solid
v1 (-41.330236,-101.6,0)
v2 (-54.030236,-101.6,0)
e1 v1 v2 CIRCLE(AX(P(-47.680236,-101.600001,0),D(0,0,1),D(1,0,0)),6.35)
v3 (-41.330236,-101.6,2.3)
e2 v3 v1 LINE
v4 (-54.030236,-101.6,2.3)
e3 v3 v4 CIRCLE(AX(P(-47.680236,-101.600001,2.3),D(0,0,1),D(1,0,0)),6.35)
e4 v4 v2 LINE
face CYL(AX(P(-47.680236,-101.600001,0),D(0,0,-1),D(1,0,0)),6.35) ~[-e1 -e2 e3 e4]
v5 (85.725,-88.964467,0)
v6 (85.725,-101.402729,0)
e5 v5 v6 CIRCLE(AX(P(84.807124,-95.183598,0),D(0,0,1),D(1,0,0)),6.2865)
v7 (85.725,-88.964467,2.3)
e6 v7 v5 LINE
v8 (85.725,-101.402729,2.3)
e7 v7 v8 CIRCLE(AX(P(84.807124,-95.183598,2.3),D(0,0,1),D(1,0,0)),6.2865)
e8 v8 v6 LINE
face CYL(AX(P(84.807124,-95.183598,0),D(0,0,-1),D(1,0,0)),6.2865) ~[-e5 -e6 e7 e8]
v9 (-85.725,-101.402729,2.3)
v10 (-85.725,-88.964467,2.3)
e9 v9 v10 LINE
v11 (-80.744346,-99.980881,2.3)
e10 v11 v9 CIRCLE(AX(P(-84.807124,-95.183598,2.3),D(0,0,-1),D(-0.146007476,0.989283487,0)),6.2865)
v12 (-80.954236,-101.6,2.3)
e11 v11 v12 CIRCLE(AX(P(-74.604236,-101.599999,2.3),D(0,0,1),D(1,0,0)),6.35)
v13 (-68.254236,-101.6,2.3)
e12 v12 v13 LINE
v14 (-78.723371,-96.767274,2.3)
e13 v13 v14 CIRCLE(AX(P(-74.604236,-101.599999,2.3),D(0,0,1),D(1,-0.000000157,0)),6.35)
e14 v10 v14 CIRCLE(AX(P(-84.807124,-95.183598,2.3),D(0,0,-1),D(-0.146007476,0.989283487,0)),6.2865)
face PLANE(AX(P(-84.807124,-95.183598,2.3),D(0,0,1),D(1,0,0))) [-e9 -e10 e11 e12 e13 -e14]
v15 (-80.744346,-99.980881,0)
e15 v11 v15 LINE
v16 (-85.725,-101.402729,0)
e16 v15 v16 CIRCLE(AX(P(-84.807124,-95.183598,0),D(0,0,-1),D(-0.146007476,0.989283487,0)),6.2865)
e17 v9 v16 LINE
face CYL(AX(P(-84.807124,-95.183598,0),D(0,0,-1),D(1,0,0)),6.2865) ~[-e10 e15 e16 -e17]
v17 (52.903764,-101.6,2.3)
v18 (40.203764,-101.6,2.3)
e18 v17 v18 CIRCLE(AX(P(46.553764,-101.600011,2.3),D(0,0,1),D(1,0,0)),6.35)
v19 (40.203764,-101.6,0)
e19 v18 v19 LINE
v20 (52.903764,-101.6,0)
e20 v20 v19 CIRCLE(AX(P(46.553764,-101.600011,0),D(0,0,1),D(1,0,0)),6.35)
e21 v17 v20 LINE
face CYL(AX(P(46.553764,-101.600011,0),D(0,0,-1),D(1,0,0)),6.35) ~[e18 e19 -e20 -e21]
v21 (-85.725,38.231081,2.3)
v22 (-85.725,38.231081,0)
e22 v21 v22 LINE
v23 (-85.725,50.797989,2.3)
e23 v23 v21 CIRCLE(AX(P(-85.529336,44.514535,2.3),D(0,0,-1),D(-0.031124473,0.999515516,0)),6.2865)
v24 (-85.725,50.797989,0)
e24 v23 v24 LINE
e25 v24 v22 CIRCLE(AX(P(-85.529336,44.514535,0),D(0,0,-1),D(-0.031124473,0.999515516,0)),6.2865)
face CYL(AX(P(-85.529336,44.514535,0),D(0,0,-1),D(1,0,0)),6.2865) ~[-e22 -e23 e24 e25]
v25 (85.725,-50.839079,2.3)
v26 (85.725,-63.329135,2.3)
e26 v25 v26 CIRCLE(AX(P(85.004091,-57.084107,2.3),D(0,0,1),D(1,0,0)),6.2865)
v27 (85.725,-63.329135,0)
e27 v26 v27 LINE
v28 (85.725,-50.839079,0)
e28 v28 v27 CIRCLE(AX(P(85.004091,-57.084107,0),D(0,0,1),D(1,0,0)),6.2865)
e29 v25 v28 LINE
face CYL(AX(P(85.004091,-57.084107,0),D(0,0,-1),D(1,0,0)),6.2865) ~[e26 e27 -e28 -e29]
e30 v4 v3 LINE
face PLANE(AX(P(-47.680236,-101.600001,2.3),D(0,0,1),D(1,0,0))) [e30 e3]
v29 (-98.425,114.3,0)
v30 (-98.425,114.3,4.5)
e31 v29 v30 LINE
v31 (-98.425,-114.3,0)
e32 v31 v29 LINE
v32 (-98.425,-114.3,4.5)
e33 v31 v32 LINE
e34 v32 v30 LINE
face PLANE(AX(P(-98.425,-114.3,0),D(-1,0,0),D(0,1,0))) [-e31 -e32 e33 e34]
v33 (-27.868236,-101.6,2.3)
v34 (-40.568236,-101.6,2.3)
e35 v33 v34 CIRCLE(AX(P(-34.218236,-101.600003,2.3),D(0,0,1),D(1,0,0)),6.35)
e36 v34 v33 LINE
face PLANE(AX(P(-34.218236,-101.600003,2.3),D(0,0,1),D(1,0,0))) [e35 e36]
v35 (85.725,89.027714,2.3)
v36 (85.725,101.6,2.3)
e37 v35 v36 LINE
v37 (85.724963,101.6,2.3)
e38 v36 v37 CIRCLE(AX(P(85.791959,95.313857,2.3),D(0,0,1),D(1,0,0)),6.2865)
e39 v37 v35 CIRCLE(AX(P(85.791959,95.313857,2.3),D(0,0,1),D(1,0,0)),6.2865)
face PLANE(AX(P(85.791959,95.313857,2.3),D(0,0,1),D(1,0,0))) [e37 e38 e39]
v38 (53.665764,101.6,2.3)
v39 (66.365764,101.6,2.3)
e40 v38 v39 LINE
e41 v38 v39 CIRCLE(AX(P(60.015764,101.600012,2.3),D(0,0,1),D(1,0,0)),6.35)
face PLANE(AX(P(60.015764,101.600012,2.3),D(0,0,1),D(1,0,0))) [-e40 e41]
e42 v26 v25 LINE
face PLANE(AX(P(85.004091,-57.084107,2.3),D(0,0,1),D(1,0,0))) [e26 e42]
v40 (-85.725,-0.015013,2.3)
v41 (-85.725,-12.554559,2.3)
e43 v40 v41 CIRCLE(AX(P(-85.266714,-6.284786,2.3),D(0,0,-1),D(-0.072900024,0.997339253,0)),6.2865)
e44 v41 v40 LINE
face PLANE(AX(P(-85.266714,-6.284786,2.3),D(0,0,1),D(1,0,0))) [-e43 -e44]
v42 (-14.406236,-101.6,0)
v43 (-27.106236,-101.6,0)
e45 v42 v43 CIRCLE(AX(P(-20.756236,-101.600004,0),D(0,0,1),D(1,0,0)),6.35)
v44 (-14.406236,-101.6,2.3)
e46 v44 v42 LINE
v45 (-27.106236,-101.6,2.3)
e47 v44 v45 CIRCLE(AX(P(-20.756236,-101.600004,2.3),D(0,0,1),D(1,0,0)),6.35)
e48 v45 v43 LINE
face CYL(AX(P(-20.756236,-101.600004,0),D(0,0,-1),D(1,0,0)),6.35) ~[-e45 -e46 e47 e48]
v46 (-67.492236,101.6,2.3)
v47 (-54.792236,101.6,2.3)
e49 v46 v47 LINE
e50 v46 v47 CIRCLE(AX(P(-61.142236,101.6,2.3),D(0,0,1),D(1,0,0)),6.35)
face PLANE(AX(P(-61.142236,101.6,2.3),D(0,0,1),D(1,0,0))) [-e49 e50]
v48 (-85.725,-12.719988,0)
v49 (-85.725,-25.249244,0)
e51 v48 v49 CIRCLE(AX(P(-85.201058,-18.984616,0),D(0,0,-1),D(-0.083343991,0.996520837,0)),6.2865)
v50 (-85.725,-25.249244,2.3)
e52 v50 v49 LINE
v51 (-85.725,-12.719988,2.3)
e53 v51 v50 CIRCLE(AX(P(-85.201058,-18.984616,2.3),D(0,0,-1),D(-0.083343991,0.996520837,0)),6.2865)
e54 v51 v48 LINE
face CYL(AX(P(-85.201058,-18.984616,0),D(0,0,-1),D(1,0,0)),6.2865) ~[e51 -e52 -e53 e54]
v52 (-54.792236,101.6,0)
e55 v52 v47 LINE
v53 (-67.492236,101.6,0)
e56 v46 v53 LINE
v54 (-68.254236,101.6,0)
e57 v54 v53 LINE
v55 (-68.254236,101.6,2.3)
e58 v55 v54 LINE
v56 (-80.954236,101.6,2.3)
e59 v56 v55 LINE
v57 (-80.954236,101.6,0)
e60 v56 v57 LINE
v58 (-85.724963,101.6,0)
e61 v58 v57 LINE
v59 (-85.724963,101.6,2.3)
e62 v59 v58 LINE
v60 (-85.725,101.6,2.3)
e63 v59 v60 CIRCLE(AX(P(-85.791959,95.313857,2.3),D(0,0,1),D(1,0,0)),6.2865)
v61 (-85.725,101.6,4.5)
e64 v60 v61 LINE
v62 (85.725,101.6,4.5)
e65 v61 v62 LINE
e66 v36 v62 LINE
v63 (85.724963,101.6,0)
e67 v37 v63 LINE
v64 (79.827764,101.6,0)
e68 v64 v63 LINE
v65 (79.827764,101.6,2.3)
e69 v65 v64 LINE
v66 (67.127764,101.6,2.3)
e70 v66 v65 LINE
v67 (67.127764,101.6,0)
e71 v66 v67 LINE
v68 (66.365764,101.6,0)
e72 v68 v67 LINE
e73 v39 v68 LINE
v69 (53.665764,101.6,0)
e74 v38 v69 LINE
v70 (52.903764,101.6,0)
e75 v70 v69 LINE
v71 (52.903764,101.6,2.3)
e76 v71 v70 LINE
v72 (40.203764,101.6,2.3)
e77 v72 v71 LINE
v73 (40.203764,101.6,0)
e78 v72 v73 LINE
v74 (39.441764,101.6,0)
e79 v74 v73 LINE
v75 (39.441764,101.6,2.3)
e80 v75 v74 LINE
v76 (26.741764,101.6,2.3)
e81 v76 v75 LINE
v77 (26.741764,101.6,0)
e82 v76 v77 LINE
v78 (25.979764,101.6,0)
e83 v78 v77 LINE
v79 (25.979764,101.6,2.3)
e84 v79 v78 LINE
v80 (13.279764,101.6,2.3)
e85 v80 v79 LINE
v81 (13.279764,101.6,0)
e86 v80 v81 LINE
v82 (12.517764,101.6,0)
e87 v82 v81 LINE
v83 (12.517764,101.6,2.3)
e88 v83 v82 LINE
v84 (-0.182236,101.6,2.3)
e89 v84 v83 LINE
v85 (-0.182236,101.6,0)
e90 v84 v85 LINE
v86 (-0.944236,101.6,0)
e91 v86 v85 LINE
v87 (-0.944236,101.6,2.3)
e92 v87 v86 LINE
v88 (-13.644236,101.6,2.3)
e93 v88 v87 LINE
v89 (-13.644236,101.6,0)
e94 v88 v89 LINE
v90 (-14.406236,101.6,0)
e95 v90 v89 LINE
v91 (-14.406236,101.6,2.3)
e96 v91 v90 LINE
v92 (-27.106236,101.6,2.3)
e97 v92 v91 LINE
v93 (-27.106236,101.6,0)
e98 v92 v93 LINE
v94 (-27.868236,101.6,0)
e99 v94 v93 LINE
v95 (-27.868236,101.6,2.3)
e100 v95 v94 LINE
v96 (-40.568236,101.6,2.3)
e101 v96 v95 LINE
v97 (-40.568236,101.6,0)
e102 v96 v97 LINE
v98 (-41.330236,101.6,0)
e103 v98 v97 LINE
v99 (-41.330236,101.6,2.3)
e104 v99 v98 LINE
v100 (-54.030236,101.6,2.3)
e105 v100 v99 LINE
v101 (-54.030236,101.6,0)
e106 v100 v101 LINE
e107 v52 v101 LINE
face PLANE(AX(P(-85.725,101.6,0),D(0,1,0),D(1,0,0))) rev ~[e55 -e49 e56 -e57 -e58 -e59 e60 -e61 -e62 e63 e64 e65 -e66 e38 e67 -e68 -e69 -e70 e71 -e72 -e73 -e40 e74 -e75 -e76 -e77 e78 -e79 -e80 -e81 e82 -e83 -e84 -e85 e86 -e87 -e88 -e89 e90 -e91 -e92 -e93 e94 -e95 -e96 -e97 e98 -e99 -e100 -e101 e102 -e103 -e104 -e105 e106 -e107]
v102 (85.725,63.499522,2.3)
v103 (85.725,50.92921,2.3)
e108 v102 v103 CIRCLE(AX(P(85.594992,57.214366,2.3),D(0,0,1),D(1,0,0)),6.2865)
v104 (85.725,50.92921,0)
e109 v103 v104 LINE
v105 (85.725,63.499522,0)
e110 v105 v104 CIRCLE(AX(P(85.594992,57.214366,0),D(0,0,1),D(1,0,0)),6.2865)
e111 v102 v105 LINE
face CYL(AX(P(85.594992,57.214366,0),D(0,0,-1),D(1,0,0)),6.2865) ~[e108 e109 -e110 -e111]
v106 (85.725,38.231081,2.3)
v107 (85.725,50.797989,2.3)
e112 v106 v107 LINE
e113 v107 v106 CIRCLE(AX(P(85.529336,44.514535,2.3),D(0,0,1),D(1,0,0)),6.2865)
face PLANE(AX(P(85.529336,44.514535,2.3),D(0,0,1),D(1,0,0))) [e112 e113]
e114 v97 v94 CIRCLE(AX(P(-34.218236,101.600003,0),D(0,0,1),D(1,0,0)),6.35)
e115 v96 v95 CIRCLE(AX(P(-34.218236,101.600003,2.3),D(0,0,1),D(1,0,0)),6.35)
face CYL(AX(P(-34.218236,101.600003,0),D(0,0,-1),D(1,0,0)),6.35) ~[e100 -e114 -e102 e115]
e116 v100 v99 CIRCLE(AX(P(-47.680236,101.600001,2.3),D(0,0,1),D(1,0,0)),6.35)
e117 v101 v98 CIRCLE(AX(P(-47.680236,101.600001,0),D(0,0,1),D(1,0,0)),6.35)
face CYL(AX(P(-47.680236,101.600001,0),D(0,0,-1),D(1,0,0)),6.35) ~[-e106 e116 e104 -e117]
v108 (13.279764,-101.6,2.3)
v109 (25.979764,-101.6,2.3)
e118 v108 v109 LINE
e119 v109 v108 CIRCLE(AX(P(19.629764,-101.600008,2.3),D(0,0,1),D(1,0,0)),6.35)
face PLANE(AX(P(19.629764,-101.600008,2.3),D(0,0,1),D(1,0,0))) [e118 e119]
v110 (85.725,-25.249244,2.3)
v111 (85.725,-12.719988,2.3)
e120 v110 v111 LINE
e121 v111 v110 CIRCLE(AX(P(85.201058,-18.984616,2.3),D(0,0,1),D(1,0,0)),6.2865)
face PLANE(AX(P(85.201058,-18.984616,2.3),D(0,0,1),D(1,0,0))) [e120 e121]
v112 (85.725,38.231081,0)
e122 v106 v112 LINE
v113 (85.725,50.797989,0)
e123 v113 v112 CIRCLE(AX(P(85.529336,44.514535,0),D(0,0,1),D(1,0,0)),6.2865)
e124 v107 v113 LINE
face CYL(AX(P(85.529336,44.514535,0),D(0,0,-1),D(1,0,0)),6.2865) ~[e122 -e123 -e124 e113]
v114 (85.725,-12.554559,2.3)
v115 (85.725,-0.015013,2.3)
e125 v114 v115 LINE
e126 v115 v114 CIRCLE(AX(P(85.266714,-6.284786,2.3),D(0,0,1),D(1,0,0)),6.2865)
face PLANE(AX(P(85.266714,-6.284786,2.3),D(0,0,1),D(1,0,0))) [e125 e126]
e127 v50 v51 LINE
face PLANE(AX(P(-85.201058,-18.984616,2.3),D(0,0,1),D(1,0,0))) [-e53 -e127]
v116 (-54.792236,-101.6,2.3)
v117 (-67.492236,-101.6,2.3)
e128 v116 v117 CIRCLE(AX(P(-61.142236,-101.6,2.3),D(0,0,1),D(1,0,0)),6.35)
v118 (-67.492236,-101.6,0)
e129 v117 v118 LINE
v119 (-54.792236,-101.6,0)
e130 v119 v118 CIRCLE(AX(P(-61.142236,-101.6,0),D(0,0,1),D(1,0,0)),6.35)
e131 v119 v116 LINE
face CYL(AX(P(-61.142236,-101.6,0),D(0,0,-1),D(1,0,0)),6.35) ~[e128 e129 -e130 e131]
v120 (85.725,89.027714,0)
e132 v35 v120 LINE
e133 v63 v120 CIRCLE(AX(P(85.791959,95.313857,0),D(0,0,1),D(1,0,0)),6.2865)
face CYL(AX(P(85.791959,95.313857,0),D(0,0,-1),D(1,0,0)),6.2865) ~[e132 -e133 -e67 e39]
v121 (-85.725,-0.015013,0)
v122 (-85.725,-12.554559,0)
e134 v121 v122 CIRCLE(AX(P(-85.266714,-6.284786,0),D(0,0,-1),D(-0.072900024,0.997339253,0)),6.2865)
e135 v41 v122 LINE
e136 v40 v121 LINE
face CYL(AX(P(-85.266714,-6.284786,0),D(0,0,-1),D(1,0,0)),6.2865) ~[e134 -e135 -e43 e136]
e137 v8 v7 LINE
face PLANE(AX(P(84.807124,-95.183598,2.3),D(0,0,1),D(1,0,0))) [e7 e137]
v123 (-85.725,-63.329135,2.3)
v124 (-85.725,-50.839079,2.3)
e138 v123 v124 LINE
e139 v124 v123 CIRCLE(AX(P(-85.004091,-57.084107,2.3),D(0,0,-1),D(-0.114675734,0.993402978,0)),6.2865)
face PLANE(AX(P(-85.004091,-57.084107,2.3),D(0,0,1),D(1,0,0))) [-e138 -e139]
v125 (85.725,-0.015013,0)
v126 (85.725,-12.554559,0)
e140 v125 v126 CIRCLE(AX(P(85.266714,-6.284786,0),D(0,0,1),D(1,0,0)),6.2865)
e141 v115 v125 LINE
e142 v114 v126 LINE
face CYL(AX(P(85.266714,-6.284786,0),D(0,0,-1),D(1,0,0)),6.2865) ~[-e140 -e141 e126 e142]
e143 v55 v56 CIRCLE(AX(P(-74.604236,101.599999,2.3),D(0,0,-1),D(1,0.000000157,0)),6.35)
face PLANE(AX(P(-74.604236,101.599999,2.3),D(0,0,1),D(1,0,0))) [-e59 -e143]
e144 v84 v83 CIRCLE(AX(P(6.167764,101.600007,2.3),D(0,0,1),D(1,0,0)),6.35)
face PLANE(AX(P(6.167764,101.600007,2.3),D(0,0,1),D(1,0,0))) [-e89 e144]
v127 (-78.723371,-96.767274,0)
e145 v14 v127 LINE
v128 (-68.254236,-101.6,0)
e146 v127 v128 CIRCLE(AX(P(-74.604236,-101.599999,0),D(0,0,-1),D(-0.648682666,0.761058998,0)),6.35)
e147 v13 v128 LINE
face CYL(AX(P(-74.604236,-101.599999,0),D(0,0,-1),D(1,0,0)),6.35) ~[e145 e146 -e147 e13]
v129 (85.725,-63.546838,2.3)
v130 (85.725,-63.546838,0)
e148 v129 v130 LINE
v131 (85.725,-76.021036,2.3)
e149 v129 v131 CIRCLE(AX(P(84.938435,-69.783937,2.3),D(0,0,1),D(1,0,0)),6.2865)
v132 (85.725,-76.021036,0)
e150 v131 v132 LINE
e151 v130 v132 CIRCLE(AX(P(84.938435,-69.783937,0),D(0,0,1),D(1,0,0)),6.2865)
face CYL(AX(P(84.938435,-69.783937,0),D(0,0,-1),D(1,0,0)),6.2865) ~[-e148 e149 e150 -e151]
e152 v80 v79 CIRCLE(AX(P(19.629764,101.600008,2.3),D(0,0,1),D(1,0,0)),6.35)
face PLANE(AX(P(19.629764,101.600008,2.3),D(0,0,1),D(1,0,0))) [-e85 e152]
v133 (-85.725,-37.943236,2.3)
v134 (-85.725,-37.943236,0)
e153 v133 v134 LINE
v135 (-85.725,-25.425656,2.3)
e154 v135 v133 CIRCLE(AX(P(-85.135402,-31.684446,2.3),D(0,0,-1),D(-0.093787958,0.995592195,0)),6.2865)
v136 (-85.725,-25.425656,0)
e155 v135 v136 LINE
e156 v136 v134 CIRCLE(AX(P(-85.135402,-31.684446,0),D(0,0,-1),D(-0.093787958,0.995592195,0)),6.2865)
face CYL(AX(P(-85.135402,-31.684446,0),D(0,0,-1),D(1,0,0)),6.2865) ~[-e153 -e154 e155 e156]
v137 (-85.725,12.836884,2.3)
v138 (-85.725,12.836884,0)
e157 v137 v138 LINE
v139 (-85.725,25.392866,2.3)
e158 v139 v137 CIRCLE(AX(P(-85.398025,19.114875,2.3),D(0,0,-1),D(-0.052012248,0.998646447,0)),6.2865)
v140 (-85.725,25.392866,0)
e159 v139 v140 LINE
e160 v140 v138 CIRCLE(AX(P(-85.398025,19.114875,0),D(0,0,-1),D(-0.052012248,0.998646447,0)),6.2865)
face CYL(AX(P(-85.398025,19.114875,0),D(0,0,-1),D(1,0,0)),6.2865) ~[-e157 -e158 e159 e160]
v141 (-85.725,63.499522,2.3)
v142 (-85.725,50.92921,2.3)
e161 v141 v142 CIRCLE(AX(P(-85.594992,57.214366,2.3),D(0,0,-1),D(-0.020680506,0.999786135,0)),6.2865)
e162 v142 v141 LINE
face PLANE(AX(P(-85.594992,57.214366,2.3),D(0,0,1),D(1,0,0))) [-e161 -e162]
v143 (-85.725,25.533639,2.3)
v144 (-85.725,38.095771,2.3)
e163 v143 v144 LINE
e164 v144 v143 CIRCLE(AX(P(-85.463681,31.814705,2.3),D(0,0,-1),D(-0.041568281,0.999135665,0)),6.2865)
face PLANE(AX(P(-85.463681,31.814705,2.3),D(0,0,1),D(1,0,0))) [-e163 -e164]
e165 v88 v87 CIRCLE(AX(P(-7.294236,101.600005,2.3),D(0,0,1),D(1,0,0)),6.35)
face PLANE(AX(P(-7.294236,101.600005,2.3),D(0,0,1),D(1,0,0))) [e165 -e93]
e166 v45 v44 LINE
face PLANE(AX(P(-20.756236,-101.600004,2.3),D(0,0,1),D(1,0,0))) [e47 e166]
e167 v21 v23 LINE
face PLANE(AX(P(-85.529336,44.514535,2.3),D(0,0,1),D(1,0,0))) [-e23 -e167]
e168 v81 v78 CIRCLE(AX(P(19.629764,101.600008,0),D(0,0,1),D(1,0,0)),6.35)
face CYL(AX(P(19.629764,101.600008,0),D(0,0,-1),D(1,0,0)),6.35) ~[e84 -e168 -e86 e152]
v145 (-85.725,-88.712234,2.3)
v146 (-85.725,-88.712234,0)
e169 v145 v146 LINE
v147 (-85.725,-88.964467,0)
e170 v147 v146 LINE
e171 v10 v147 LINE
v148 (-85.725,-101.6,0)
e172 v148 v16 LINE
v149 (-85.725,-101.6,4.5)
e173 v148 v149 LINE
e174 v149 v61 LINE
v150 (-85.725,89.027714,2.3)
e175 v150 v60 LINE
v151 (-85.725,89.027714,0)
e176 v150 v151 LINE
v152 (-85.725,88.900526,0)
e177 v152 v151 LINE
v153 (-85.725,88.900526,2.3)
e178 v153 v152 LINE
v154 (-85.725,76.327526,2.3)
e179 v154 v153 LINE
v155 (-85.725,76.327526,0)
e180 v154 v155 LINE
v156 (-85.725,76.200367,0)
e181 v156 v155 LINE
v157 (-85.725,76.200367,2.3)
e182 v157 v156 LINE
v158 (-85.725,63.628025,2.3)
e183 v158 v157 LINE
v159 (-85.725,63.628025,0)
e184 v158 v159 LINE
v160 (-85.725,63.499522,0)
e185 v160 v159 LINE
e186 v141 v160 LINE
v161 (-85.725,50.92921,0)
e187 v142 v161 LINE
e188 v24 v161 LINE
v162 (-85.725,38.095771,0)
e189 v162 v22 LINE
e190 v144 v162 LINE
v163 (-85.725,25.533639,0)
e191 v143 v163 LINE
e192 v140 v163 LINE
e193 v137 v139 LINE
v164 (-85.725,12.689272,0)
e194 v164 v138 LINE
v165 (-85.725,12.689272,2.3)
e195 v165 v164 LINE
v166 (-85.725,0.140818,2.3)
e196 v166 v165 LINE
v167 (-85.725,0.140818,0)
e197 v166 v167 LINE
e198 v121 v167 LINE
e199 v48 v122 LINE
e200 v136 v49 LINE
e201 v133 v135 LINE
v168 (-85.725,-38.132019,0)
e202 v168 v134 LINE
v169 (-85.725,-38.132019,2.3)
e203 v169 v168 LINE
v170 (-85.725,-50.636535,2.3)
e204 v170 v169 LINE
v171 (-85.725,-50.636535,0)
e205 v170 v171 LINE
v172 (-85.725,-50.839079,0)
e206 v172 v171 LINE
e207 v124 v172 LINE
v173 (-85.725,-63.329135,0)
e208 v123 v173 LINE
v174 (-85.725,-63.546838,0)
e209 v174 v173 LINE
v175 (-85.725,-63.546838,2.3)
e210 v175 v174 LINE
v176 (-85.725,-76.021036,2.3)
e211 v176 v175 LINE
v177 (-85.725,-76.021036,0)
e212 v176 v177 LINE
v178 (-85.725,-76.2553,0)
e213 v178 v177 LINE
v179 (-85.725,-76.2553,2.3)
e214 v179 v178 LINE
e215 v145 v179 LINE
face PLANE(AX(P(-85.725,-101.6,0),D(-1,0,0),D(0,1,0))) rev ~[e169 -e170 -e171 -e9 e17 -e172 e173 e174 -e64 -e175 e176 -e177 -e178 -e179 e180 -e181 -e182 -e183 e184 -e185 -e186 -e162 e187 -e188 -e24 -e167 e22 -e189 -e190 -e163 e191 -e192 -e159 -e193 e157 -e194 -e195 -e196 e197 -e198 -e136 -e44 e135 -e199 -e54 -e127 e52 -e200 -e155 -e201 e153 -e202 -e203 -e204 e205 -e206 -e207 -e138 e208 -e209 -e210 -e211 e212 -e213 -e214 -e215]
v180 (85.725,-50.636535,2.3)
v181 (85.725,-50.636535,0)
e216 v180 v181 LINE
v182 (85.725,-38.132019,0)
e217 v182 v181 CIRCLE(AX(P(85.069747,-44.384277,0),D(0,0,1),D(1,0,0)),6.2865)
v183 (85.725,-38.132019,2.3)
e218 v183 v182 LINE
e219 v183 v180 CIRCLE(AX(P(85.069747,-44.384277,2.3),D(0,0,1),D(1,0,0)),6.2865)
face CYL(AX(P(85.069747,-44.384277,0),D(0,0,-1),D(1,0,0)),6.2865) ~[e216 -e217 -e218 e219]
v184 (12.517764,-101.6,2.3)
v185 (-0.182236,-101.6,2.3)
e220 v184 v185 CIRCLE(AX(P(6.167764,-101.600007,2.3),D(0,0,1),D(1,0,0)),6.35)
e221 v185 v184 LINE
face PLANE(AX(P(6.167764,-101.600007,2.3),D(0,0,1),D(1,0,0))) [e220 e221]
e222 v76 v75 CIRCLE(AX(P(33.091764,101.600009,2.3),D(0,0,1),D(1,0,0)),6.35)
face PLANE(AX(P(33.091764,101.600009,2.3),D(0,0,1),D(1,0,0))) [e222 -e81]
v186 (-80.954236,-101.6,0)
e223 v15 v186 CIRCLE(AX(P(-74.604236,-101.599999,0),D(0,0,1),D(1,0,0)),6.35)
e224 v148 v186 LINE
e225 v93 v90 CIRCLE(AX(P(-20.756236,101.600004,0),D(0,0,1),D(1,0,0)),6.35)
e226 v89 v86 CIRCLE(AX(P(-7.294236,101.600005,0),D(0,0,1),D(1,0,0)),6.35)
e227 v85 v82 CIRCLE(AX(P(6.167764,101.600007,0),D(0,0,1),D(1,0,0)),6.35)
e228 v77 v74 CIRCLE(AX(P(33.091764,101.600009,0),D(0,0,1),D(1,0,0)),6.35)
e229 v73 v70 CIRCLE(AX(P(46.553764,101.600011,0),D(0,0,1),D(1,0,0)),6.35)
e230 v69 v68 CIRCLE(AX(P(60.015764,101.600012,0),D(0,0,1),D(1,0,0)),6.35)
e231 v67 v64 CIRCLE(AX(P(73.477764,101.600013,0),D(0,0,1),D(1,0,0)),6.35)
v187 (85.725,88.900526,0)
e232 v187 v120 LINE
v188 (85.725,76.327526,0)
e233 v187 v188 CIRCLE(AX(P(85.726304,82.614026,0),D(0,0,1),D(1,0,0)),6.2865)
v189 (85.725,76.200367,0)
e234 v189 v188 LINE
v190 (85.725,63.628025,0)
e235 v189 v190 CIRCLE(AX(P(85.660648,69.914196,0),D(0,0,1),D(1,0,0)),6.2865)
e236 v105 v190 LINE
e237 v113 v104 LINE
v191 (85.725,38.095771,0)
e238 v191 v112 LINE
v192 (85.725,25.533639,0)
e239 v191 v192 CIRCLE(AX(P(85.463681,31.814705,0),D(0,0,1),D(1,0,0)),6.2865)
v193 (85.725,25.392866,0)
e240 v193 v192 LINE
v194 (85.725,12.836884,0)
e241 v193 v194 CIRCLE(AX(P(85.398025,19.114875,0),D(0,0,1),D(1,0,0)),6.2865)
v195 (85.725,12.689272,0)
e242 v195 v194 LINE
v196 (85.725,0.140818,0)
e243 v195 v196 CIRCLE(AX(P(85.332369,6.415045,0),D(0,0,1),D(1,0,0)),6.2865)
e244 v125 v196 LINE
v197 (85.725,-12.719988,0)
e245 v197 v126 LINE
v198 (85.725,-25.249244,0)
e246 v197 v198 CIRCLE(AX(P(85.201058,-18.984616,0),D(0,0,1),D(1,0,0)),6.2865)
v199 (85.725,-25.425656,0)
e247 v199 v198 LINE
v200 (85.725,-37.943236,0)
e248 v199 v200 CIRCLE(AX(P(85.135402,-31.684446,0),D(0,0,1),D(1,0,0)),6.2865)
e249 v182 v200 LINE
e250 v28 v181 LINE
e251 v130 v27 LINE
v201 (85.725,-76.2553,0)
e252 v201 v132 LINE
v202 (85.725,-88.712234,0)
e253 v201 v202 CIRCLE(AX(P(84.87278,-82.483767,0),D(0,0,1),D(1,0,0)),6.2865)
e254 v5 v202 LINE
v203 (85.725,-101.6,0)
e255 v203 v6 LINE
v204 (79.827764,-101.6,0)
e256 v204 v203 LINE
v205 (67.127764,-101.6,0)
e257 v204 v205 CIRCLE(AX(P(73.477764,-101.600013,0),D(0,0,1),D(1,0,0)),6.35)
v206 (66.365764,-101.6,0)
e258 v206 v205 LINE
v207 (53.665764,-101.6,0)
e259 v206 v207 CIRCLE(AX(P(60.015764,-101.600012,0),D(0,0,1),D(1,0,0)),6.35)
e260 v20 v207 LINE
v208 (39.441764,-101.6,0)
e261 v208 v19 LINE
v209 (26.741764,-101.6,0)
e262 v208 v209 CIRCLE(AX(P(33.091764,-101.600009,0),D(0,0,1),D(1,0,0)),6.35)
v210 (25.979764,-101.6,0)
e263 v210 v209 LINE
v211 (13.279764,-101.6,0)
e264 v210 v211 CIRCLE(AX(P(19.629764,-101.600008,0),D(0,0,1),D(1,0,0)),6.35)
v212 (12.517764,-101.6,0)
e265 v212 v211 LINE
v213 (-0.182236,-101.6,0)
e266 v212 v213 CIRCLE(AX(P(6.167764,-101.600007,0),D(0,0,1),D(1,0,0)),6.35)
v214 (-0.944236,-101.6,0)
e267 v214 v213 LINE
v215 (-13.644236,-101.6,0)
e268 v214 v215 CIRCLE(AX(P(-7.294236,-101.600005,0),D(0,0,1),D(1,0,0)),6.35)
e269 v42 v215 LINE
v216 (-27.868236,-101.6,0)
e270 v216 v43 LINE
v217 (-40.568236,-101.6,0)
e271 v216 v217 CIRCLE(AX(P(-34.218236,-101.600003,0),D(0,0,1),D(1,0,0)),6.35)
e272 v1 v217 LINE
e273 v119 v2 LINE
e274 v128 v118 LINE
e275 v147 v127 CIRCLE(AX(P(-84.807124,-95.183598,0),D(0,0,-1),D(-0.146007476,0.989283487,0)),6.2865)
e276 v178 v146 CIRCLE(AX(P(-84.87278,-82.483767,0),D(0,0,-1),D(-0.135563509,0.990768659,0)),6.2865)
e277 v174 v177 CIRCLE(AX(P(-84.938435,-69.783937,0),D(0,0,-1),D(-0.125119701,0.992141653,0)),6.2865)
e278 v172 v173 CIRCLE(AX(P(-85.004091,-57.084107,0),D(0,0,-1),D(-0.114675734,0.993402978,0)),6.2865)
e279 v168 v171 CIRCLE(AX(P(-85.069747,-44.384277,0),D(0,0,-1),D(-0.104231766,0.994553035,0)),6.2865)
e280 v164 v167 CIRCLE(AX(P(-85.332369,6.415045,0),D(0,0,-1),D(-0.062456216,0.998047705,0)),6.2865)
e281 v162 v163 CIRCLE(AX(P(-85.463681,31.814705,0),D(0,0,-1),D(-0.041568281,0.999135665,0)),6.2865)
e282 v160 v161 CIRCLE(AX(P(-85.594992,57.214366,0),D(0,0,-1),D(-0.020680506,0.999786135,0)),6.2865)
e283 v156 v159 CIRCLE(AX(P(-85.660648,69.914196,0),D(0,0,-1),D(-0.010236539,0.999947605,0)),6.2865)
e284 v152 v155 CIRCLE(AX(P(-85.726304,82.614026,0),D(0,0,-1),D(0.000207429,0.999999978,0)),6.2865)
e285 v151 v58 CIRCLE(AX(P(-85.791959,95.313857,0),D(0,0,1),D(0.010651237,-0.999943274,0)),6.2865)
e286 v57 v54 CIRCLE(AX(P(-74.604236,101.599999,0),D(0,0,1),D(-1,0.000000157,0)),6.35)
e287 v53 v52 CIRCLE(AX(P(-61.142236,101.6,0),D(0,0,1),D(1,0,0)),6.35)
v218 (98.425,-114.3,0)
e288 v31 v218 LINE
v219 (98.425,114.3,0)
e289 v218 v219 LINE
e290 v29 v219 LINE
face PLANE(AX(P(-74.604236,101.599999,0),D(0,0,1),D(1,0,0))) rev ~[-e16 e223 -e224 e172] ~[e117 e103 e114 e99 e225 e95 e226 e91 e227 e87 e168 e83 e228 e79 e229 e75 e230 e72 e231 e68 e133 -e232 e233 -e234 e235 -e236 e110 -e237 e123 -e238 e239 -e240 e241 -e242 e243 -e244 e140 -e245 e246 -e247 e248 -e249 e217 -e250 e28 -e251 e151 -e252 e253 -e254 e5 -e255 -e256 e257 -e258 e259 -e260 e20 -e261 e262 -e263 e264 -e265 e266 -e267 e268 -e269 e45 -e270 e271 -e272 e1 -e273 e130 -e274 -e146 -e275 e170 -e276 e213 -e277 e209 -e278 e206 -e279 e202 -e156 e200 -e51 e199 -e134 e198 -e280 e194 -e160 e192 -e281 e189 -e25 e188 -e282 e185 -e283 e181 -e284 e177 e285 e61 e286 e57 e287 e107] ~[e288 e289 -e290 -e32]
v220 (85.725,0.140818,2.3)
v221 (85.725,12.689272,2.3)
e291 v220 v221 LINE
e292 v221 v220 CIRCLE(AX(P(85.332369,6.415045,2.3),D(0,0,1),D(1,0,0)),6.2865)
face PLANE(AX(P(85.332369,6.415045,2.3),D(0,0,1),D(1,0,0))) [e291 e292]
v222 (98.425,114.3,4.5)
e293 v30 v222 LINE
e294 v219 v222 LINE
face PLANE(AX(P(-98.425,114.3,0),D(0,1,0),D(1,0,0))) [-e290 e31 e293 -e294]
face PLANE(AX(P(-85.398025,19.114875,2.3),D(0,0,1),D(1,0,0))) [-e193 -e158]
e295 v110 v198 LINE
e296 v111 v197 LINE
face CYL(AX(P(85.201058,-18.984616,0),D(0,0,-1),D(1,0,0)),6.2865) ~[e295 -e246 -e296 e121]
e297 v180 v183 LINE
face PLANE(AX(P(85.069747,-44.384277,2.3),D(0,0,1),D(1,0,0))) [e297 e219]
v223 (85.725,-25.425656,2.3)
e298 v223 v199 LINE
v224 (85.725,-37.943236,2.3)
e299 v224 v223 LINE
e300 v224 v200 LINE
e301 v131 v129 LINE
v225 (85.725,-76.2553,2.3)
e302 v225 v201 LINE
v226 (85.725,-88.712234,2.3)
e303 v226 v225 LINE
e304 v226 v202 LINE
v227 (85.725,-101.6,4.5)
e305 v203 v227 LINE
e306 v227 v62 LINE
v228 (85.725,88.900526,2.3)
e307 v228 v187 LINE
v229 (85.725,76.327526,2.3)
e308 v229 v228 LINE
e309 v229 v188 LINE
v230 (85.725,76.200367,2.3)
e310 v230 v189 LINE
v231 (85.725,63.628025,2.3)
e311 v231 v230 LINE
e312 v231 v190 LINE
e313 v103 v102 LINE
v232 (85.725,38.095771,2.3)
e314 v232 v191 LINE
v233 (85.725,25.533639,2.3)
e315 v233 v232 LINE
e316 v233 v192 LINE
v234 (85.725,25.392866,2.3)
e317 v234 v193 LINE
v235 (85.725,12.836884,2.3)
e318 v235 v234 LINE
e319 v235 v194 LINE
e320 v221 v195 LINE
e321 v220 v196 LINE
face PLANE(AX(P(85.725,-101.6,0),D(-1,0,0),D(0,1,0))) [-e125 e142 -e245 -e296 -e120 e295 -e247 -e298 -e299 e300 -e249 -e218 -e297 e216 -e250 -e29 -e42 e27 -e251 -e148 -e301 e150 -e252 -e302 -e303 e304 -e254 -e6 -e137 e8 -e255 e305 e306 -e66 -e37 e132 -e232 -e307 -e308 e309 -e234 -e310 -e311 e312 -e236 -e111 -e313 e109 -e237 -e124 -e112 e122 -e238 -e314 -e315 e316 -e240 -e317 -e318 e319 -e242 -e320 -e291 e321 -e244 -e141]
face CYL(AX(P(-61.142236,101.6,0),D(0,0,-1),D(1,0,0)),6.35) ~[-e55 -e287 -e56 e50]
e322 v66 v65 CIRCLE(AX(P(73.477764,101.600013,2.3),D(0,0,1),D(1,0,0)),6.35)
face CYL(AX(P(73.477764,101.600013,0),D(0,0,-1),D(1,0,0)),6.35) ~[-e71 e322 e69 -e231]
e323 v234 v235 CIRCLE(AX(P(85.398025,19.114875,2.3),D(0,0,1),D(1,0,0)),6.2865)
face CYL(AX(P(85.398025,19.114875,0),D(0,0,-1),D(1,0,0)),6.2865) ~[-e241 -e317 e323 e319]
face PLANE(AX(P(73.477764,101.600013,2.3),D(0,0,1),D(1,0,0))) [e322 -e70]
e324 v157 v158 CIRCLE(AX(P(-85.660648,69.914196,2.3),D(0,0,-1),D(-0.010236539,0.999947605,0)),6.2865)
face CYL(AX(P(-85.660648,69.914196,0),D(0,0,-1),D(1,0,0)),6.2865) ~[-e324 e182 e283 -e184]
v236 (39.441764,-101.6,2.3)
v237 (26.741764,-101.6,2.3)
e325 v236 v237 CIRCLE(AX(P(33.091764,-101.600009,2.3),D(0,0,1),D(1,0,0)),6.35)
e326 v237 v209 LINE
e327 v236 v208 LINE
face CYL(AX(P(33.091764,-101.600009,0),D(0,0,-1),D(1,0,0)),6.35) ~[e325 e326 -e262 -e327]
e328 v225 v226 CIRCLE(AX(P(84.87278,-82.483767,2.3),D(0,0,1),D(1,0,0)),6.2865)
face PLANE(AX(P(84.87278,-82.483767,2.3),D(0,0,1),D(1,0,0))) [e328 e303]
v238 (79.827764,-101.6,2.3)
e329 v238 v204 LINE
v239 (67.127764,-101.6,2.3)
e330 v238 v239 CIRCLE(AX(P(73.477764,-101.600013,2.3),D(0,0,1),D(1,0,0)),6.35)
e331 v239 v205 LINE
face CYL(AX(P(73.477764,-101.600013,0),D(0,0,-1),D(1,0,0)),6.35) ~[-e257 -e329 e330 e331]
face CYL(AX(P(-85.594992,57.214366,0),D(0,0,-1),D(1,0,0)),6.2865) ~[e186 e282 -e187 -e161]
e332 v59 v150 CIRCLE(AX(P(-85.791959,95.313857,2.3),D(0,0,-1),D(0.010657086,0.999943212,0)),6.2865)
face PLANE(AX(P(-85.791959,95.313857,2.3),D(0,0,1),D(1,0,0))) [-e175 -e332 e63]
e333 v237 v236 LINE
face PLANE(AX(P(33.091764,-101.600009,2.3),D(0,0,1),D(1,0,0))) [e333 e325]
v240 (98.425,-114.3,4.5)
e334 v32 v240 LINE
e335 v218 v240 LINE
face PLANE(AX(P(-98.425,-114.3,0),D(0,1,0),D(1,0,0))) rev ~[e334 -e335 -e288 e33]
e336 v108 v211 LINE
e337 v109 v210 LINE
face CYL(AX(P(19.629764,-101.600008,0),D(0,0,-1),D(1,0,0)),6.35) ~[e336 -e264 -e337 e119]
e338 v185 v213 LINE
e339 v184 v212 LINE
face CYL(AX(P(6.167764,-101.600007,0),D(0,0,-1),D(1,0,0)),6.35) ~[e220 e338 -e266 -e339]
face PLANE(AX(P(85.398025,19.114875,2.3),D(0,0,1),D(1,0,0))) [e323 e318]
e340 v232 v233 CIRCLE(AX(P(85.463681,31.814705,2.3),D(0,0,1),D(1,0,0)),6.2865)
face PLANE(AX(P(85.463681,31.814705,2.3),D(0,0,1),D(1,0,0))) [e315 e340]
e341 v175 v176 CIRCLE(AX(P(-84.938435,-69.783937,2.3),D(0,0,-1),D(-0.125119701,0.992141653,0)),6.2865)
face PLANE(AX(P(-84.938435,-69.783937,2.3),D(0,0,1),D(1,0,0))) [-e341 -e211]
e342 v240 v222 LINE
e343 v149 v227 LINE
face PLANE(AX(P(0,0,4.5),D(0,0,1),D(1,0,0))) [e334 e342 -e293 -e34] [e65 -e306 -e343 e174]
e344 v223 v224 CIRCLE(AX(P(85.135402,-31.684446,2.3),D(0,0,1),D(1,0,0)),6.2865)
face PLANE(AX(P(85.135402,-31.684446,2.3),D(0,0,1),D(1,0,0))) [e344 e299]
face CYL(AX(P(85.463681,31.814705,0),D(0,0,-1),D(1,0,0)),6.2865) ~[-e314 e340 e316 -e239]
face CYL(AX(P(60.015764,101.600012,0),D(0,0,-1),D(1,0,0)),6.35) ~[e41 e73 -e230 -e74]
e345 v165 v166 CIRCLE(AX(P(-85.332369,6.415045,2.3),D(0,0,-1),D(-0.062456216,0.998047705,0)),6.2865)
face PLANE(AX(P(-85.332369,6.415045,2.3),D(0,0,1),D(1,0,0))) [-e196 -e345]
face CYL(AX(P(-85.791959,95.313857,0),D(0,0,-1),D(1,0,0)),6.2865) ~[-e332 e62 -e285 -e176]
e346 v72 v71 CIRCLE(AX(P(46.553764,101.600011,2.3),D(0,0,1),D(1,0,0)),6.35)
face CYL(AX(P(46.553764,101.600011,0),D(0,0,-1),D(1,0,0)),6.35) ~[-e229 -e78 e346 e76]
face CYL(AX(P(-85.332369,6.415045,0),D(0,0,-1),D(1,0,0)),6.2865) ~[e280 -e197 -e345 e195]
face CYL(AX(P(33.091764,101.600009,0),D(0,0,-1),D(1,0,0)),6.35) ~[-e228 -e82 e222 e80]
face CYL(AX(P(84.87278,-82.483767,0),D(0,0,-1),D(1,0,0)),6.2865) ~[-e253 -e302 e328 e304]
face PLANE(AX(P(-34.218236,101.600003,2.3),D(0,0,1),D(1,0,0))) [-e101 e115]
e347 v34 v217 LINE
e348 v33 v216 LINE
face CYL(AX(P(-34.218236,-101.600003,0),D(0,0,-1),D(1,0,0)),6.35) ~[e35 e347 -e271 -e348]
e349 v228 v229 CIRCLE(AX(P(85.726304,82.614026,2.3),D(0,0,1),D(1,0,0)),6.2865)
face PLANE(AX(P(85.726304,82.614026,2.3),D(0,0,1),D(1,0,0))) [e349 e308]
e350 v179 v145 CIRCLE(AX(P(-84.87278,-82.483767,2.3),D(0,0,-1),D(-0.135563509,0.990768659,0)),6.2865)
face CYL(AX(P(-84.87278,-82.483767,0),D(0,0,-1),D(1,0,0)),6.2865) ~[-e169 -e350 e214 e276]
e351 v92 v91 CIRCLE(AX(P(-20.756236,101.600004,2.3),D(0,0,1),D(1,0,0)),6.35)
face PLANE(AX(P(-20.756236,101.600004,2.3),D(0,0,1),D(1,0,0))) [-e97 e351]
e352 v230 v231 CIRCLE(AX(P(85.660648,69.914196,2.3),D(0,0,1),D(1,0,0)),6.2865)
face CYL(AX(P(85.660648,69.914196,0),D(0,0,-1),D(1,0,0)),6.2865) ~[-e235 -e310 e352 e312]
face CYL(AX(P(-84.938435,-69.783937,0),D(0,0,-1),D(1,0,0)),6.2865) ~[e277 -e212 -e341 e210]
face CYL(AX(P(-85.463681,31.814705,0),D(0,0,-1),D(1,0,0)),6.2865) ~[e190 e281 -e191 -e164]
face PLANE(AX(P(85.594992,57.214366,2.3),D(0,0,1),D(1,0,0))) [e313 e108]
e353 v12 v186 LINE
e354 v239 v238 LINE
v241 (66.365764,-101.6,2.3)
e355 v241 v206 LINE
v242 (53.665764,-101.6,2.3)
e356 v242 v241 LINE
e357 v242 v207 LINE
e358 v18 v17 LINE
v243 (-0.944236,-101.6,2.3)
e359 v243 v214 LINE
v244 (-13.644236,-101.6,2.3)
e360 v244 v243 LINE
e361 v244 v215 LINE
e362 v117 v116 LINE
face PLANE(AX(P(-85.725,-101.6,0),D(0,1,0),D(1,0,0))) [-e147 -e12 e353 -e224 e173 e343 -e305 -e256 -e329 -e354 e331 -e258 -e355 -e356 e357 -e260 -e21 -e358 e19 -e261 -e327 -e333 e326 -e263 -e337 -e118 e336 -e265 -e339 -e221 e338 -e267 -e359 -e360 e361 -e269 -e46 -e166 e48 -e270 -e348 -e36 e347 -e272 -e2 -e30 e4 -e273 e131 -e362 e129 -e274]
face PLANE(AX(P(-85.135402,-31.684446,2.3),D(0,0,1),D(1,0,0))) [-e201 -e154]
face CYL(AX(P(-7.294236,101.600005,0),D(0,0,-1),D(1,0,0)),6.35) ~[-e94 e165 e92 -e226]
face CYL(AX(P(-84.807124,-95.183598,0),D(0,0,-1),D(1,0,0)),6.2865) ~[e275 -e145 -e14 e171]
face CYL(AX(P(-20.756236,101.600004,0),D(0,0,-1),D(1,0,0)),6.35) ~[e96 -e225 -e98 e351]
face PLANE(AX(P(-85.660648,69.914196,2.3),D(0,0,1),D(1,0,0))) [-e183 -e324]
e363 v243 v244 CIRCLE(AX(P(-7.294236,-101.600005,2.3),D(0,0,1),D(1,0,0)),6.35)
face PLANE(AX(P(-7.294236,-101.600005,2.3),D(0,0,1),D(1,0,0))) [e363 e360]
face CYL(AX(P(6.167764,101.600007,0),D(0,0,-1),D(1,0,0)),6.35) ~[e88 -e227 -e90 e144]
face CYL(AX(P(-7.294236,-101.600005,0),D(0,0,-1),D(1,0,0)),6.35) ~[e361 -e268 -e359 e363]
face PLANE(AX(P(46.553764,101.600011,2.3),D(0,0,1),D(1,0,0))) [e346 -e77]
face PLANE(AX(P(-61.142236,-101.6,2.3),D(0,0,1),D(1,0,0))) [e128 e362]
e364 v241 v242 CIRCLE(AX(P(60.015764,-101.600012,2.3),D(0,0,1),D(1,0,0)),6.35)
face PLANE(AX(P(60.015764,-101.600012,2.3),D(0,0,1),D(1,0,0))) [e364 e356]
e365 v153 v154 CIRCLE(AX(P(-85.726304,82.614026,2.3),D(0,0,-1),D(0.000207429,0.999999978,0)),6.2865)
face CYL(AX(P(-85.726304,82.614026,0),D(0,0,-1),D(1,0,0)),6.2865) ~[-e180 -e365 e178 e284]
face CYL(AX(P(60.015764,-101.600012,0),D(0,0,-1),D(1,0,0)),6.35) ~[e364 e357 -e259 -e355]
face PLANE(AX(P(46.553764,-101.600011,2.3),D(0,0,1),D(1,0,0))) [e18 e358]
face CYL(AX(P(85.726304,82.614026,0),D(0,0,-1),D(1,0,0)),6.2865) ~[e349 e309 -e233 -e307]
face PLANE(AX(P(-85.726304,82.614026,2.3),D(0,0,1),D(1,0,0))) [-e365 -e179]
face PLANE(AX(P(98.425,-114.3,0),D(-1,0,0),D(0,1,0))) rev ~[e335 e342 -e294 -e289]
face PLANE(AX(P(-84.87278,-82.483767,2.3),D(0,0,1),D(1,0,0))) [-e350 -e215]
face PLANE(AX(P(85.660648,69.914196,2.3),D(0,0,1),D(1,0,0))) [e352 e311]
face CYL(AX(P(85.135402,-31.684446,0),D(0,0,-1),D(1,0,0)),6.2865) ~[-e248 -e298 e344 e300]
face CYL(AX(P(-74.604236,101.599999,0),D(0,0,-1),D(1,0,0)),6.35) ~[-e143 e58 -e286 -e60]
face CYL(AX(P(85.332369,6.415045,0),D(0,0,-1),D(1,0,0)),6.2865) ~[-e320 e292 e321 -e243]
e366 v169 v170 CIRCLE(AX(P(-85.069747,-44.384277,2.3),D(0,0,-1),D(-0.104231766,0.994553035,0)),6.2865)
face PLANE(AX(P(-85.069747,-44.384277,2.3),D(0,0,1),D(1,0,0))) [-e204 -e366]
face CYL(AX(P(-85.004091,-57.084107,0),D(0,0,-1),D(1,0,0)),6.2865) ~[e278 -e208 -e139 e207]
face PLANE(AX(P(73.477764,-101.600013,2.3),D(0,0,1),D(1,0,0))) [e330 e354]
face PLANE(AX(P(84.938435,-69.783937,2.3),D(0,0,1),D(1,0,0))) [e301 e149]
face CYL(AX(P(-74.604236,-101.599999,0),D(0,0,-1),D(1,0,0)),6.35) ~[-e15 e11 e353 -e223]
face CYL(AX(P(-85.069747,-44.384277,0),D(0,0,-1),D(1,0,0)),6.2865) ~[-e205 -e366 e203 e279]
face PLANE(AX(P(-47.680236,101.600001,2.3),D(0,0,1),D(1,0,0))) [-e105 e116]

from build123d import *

# Parameters (mm, degrees)
F0_W     = 171.45
F0_H     = 203.2
F0_W_2   = 196.85
F0_H_2   = 228.6
F1_DEPTH = 4.5
F2_DEPTH = 4.5
F3_R     = 6.2865
F4_DEPTH = 2.3
F5_R     = 6.35
F6_DEPTH = 2.3


with BuildPart() as f1:
    # F0 (on Top) → F1 (new body)
    with BuildSketch(Plane.XY):
        Rectangle(F0_W, F0_H)
        Rectangle(F0_W_2, F0_H_2)
        Rectangle(F0_W, F0_H, mode=Mode.SUBTRACT)
    extrude(amount=F1_DEPTH)

    # F0 (on Top) → F2 (cut)
    with BuildSketch(Plane.XY):
        Rectangle(F0_W, F0_H)
    extrude(amount=F2_DEPTH, mode=Mode.SUBTRACT)

    # F3 (on face) → F4 (join)
    with BuildSketch(Plane.XY):
        with Locations((-85.791959, 95.313857)):
            Circle(F3_R)
        with Locations((85.791959, 95.313857)):
            Circle(F3_R)
        with Locations((-85.726304, 82.614026)):
            Circle(F3_R)
        with Locations((-85.660648, 69.914196)):
            Circle(F3_R)
        with Locations((-85.594992, 57.214366)):
            Circle(F3_R)
        with Locations((-85.529336, 44.514535)):
            Circle(F3_R)
        with Locations((-85.463681, 31.814705)):
            Circle(F3_R)
        with Locations((-85.398025, 19.114875)):
            Circle(F3_R)
        with Locations((-85.332369, 6.415045)):
            Circle(F3_R)
        with Locations((-85.266714, -6.284786)):
            Circle(F3_R)
        with Locations((-85.201058, -18.984616)):
            Circle(F3_R)
        with Locations((-85.135402, -31.684446)):
            Circle(F3_R)
        with Locations((-85.069747, -44.384277)):
            Circle(F3_R)
        with Locations((-85.004091, -57.084107)):
            Circle(F3_R)
        with Locations((-84.938435, -69.783937)):
            Circle(F3_R)
        with Locations((-84.87278, -82.483767)):
            Circle(F3_R)
        with Locations((-84.807124, -95.183598)):
            Circle(F3_R)
        with Locations((85.726304, 82.614026)):
            Circle(F3_R)
        with Locations((85.660648, 69.914196)):
            Circle(F3_R)
        with Locations((85.594992, 57.214366)):
            Circle(F3_R)
        with Locations((85.529336, 44.514535)):
            Circle(F3_R)
        with Locations((85.463681, 31.814705)):
            Circle(F3_R)
        with Locations((85.398025, 19.114875)):
            Circle(F3_R)
        with Locations((85.332369, 6.415045)):
            Circle(F3_R)
        with Locations((85.266714, -6.284786)):
            Circle(F3_R)
        with Locations((85.201058, -18.984616)):
            Circle(F3_R)
        with Locations((85.135402, -31.684446)):
            Circle(F3_R)
        with Locations((85.069747, -44.384277)):
            Circle(F3_R)
        with Locations((85.004091, -57.084107)):
            Circle(F3_R)
        with Locations((84.938435, -69.783937)):
            Circle(F3_R)
        with Locations((84.87278, -82.483767)):
            Circle(F3_R)
        with Locations((84.807124, -95.183598)):
            Circle(F3_R)
    extrude(amount=F4_DEPTH)

    # F5 (on face) → F6 (join)
    with BuildSketch(Plane.XY):
        with Locations((-74.604236, 101.599999)):
            Circle(F5_R)
        with Locations((-61.142236, 101.6)):
            Circle(F5_R)
        with Locations((-47.680236, 101.600001)):
            Circle(F5_R)
        with Locations((-34.218236, 101.600003)):
            Circle(F5_R)
        with Locations((-20.756236, 101.600004)):
            Circle(F5_R)
        with Locations((-7.294236, 101.600005)):
            Circle(F5_R)
        with Locations((6.167764, 101.600007)):
            Circle(F5_R)
        with Locations((19.629764, 101.600008)):
            Circle(F5_R)
        with Locations((33.091764, 101.600009)):
            Circle(F5_R)
        with Locations((46.553764, 101.600011)):
            Circle(F5_R)
        with Locations((60.015764, 101.600012)):
            Circle(F5_R)
        with Locations((73.477764, 101.600013)):
            Circle(F5_R)
        with Locations((-74.604236, -101.599999)):
            Circle(F5_R)
        with Locations((-61.142236, -101.6)):
            Circle(F5_R)
        with Locations((-47.680236, -101.600001)):
            Circle(F5_R)
        with Locations((-34.218236, -101.600003)):
            Circle(F5_R)
        with Locations((-20.756236, -101.600004)):
            Circle(F5_R)
        with Locations((-7.294236, -101.600005)):
            Circle(F5_R)
        with Locations((6.167764, -101.600007)):
            Circle(F5_R)
        with Locations((19.629764, -101.600008)):
            Circle(F5_R)
        with Locations((73.477764, -101.600013)):
            Circle(F5_R)
        with Locations((46.553764, -101.600011)):
            Circle(F5_R)
        with Locations((33.091764, -101.600009)):
            Circle(F5_R)
        with Locations((60.015764, -101.600012)):
            Circle(F5_R)
    extrude(amount=F6_DEPTH)


solid = f1.part
